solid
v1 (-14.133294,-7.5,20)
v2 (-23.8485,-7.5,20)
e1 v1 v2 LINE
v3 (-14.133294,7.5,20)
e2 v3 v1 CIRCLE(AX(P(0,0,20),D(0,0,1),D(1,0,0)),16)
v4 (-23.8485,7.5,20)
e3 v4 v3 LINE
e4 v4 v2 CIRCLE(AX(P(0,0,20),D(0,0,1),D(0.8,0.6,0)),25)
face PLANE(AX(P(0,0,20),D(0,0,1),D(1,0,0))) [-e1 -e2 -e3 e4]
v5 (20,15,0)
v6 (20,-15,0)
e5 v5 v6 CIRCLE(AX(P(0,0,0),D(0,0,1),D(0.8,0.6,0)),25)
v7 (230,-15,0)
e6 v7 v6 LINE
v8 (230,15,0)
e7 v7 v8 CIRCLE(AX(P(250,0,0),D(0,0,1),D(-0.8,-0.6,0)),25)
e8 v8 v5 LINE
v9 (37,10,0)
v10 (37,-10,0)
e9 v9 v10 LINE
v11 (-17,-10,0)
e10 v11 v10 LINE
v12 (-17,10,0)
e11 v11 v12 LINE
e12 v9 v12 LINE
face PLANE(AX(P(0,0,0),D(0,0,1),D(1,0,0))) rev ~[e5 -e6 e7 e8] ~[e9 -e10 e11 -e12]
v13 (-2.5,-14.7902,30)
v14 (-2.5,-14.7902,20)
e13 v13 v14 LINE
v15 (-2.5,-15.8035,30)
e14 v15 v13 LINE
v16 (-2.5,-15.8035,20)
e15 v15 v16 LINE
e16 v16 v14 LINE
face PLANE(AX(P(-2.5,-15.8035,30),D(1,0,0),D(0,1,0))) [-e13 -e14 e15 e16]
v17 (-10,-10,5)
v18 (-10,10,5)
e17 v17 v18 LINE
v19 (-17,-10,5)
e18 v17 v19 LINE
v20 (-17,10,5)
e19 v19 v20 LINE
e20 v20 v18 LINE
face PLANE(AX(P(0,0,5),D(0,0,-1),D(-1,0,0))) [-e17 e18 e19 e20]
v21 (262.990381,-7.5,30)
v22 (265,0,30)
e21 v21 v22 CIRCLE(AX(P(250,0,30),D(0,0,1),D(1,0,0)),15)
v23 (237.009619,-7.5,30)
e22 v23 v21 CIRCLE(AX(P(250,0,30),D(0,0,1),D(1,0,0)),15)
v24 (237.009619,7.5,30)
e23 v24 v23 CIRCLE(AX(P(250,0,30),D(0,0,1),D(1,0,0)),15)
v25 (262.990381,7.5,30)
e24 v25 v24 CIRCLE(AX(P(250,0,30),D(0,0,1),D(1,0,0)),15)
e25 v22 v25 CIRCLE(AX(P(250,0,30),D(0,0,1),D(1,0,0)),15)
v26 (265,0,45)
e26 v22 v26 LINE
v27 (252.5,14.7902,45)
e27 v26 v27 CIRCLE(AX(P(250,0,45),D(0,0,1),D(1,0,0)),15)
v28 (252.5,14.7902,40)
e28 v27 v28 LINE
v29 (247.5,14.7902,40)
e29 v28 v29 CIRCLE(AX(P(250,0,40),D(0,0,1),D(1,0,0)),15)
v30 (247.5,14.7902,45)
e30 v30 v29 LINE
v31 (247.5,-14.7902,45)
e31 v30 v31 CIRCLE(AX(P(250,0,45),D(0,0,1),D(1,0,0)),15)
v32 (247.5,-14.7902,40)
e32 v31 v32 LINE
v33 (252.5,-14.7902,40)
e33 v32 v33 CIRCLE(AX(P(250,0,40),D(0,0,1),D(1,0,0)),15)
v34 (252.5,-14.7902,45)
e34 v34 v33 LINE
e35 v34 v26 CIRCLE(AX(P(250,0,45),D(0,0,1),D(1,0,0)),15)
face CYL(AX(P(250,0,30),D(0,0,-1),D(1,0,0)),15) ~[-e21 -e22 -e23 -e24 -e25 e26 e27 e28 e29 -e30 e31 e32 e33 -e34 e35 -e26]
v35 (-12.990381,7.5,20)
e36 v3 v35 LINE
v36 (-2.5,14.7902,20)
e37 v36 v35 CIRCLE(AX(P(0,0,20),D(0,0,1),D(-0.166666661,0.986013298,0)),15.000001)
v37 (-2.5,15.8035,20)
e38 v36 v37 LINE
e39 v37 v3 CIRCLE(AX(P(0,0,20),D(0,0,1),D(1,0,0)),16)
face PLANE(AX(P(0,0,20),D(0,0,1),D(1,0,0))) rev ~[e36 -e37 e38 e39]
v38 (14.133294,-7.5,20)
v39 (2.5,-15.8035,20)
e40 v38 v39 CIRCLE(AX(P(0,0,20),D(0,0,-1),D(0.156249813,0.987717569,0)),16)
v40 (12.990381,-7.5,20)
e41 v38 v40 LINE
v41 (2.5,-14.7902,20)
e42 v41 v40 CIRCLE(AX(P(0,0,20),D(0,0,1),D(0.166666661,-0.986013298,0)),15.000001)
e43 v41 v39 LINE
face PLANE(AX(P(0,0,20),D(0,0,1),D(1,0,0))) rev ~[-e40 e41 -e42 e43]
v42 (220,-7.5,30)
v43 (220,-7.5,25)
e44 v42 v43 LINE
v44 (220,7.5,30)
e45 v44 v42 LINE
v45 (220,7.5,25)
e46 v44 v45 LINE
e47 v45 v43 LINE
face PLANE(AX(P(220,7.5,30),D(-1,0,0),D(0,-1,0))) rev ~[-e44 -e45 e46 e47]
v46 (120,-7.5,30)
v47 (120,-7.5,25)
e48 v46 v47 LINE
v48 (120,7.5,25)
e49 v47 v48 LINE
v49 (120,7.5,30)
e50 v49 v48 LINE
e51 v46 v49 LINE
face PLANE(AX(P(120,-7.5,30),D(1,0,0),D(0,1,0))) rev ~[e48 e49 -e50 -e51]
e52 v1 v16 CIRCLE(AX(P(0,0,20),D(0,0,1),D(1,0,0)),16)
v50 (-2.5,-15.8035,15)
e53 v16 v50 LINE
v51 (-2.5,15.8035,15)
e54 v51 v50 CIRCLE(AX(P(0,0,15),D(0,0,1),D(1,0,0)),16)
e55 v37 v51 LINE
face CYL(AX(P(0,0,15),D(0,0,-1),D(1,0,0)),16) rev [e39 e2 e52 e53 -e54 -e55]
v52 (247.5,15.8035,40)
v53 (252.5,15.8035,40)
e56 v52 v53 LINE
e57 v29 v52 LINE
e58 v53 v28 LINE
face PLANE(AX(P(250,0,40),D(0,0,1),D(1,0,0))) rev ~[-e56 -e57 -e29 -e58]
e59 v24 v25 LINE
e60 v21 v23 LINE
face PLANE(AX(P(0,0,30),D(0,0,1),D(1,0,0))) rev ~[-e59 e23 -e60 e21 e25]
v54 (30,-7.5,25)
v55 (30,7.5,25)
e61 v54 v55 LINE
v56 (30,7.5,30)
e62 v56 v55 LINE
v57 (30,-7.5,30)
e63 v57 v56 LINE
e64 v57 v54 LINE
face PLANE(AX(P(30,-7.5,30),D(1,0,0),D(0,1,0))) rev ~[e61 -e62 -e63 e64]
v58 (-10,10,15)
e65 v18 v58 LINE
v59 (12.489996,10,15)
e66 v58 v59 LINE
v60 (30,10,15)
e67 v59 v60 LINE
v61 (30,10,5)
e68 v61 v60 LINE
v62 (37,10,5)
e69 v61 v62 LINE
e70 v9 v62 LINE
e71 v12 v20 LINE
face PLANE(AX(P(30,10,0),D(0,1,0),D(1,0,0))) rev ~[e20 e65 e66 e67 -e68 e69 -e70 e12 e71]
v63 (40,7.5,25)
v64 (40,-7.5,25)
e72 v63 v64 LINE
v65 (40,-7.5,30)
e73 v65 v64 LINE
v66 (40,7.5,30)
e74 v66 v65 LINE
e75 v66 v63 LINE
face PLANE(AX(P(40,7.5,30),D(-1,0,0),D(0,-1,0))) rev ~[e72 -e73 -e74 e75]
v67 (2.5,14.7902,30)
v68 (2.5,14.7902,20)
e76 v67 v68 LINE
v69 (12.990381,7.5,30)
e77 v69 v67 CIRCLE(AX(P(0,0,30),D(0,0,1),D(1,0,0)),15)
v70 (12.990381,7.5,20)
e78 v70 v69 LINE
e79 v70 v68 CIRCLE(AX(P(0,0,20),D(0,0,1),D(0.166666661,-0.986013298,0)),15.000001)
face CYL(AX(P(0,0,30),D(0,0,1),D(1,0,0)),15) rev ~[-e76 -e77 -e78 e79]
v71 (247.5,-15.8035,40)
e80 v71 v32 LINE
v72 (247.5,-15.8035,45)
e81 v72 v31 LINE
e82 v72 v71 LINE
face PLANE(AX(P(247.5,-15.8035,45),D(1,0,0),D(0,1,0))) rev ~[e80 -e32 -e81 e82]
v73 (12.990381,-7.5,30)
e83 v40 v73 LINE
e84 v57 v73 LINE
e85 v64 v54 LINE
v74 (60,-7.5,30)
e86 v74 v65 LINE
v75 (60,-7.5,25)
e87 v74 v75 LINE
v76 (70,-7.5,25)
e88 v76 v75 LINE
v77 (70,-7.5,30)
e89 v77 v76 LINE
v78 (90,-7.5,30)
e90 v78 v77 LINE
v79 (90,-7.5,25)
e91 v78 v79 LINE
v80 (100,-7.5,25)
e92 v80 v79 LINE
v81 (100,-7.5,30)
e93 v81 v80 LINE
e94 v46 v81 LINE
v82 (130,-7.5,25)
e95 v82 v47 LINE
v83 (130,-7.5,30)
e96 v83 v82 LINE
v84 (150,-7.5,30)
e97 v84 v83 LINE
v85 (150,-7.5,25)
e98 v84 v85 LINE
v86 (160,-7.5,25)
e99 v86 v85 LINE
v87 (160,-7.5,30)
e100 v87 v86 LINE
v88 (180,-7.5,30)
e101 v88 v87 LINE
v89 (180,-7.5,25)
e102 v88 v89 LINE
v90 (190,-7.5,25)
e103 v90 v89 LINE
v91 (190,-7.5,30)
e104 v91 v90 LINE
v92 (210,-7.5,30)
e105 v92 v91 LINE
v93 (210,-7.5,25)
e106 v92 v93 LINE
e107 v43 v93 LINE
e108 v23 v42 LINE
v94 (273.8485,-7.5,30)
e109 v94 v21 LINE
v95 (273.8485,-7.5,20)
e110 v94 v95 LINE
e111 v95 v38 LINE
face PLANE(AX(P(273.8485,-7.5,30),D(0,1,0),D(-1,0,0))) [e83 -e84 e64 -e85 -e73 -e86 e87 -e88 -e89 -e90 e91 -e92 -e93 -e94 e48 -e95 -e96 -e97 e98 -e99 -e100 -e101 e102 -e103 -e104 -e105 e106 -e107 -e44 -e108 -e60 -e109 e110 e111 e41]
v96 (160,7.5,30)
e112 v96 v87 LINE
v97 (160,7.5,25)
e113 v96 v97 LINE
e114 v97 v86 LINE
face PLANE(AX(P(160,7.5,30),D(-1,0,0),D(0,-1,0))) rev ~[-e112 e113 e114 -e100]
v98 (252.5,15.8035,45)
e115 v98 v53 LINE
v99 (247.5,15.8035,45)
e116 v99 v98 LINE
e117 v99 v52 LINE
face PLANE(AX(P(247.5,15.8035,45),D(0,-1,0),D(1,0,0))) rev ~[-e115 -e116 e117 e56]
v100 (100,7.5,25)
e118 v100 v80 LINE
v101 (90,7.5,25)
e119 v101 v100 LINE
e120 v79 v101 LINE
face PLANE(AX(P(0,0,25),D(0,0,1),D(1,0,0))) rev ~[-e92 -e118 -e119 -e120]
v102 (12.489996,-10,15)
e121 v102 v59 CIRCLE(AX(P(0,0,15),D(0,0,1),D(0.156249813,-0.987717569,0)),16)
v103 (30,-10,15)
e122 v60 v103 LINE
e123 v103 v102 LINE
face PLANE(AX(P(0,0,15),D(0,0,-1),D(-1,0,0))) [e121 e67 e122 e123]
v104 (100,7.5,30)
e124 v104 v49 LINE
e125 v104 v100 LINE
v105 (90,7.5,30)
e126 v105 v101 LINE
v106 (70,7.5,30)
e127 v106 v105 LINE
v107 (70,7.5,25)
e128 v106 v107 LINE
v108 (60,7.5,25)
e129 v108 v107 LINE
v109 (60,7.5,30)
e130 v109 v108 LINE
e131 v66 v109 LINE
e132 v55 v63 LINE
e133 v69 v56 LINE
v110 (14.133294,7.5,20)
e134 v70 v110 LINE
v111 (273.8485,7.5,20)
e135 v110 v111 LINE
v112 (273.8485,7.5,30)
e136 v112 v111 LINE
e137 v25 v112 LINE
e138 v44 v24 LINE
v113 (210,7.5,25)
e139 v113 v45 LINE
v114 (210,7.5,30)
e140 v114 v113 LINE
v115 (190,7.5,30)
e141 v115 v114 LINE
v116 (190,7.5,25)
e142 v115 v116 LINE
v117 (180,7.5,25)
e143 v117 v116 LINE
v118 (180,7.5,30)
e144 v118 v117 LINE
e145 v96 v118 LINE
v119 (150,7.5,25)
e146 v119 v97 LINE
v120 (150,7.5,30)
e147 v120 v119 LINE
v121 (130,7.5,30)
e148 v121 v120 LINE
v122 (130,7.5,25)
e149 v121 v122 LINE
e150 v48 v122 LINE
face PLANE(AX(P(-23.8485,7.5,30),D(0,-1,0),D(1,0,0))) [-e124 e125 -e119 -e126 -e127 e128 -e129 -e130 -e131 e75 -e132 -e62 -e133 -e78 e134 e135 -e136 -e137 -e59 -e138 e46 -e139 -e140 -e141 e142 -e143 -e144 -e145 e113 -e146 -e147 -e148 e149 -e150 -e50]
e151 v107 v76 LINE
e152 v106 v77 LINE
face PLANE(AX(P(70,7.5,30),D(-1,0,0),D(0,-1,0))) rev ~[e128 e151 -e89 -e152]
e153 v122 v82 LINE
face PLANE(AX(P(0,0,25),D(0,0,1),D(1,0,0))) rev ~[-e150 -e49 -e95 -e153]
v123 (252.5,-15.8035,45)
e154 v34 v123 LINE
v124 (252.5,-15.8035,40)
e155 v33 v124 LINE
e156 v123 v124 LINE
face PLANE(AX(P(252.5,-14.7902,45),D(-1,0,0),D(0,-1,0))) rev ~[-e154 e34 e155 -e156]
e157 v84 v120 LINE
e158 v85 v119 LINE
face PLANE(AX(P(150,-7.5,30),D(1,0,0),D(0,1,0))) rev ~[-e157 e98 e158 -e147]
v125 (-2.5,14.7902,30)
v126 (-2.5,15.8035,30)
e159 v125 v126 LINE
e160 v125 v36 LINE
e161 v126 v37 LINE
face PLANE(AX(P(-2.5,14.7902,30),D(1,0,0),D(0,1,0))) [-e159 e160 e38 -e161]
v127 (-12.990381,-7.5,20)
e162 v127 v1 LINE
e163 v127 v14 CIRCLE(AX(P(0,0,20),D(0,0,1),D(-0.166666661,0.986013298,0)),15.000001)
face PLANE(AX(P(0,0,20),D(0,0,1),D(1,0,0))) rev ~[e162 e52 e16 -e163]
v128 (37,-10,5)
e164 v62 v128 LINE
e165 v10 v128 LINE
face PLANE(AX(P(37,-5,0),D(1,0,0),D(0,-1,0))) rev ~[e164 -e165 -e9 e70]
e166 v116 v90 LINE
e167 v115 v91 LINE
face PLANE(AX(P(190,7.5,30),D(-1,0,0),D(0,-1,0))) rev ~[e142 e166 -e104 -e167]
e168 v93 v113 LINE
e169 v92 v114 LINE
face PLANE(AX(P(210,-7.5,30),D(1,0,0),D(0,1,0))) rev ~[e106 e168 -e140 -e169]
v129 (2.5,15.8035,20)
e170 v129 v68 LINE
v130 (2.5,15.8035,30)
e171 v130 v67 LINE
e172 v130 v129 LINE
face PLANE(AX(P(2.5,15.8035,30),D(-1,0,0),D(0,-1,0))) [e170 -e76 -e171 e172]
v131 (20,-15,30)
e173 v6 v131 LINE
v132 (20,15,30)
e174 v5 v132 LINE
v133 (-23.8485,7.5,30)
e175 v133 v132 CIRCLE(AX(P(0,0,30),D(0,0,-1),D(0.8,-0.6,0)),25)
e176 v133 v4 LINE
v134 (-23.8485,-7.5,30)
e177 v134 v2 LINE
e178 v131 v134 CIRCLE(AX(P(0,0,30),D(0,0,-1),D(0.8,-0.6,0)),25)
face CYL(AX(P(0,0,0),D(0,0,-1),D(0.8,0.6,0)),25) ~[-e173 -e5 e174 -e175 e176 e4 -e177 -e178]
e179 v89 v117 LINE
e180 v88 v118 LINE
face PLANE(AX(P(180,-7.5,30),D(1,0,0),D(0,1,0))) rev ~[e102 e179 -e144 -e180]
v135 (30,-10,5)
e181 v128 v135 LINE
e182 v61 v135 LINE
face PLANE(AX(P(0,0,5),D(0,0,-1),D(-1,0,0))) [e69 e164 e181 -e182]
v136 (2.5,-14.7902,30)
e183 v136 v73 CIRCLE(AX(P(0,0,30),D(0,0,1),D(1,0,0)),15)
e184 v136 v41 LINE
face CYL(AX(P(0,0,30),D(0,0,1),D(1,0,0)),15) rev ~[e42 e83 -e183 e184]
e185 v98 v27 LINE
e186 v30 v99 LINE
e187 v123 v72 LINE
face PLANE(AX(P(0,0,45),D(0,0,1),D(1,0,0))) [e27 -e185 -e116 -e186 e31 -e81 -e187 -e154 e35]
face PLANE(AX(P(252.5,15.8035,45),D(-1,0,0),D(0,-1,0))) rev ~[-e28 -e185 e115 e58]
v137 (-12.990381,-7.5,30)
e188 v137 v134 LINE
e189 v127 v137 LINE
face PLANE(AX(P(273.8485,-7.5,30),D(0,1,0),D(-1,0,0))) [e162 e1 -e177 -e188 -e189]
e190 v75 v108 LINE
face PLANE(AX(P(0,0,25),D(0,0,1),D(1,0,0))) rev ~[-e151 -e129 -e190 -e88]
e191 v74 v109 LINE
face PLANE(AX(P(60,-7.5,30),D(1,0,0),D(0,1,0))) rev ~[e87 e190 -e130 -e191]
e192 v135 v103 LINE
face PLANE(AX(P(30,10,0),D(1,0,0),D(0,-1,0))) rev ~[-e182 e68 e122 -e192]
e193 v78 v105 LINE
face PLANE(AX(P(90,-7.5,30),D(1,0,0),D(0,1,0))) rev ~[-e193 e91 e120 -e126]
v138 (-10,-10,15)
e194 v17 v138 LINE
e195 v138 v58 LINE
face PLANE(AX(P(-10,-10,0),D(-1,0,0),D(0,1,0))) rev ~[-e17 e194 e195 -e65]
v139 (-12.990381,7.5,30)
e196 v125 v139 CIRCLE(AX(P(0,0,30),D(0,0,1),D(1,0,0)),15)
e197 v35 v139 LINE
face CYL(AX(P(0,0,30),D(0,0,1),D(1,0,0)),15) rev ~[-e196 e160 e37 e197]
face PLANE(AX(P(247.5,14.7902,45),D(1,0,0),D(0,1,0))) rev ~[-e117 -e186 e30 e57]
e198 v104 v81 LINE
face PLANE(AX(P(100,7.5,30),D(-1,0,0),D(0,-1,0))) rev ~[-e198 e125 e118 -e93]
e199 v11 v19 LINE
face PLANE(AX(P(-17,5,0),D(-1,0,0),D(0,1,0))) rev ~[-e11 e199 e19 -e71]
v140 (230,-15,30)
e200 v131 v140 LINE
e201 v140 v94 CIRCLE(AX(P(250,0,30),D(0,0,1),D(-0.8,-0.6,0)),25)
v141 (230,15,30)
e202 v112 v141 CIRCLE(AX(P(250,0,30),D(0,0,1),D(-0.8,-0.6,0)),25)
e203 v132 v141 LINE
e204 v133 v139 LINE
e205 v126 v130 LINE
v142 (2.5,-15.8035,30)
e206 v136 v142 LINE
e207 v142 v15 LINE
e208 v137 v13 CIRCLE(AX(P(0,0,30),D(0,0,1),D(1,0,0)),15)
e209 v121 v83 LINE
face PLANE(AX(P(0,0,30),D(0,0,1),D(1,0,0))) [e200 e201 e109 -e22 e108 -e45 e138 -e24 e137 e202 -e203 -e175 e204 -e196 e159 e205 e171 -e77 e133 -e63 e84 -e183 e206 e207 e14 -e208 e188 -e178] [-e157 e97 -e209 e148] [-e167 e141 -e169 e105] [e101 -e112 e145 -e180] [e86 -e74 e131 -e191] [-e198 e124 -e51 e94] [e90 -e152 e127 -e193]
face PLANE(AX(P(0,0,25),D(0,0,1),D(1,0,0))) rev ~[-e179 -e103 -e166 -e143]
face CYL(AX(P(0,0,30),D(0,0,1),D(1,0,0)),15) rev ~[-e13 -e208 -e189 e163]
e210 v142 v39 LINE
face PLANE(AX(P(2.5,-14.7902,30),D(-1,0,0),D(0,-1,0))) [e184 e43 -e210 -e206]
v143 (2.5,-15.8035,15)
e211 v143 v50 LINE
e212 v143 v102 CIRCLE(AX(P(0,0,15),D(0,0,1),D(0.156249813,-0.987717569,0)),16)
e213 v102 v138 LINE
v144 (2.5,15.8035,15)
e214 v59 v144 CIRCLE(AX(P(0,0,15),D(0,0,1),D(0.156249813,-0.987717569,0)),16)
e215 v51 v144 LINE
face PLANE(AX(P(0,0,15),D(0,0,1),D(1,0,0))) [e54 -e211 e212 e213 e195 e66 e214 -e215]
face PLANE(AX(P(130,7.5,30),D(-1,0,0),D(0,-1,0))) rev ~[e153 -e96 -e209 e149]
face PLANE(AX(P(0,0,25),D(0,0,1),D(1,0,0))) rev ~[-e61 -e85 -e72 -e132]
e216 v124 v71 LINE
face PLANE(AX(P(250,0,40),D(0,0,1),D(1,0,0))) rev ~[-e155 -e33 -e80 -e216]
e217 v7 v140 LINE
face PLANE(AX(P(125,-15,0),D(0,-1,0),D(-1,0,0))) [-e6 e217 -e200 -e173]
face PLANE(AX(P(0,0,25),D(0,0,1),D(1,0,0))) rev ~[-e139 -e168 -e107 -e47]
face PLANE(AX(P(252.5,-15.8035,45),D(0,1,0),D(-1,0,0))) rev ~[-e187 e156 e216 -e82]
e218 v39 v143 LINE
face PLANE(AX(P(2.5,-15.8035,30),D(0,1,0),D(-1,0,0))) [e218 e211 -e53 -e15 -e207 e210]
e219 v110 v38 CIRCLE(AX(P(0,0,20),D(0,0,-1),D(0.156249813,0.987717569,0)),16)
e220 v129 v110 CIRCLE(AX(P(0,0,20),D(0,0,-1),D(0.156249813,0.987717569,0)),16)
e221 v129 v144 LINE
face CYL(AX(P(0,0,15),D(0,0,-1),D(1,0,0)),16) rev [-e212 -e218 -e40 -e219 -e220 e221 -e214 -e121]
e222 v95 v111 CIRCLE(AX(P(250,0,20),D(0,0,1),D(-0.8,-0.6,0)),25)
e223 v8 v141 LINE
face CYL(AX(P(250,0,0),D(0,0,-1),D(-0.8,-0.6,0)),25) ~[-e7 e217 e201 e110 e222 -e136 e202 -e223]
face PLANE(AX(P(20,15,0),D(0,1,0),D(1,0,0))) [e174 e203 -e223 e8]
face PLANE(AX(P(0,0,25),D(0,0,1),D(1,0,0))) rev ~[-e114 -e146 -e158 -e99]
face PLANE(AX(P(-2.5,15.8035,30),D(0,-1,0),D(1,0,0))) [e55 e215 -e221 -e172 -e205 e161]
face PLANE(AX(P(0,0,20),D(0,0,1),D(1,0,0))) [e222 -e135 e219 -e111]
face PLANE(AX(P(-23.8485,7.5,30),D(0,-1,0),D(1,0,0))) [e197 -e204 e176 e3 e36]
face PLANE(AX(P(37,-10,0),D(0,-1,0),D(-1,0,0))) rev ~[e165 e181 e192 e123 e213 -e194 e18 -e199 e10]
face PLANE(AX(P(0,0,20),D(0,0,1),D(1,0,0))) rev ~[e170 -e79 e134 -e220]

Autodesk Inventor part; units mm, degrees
ref_plane "YZ Plane" through (0, 0, 0) normal (1, 0, 0) x (0, 1, 0)
ref_plane "XZ Plane" through (0, 0, 0) normal (0, 1, 0) x (-1, 0, 0)
ref_plane "XY Plane" through (0, 0, 0) normal (0, 0, 1) x (1, 0, 0)
sketch "Szkic1" plane through (0, 0, 0) normal (0, 0, 1) x (1, 0, 0)
  arc A0 (20, 15) -> (-20, 15) centre (0, 0) ccw
  line L0 (20, 15) -> (125, 15)
  line L1 (125, 15) -> (125, -15)
  line L2 (125, -15) -> (20, -15)
  arc A1 (230, -15) -> (230, 15) centre (250, 0) ccw
  line L3 (230, 15) -> (125, 15)
  line L4 (125, -15) -> (230, -15)
  arc A2 (-20, 15) -> (20, -15) centre (0, 0) ccw
  dimension "d0" = 50
  dimension "d1" = 30
  dimension "d2" = 250
extrude "kształt" add sketch "Szkic1" along normal blind 30
sketch "Szkic2" plane through (0, 0, 30) normal (0, 0, 1) x (1, 0, 0)
  arc A0 (20, 15) -> (20, -15) centre (0, 0) ccw projected
  line L0 (20, -15) -> (230, -15) projected
  arc A1 (230, -15) -> (230, 15) centre (250, 0) ccw projected
  line L1 (230, 15) -> (20, 15) projected
  line L2 (-23.8485, 7.5) -> (273.8485, 7.5)
  line L3 (273.8485, -7.5) -> (-23.8485, -7.5)
  point P0 (-23.8485, -7.5)
  dimension "d5" = 15
extrude "rowek na kable" cut sketch "Szkic2" against normal blind 10 contours L2 A1 L3 A0
sketch "Szkic3" plane through (0, 0, 30) normal (0, 0, 1) x (1, 0, 0)
  arc A0 (273.8485, 7.5) -> (230, 15) centre (250, 0) ccw projected
  circle A1 centre (250, 0) radius 15
  point P0 (0, 0)
  dimension "d8" = 30
extrude "odstająćy cosik" add sketch "Szkic3" along normal blind 15
sketch "Szkic4" plane through (0, 0, 30) normal (0, 0, 1) x (1, 0, 0)
  circle A0 centre (0, 0) radius 15
  dimension "d11" = 30
extrude "wgłebiający cosik" cut sketch "Szkic4" against normal blind 15
sketch "Szkic5" plane through (0, 0, 30) normal (0, 0, 1) x (1, 0, 0)
  arc A0 (12.9904, 7.5) -> (-12.9904, 7.5) centre (0, 0) ccw projected
  line L0 (12.9904, 7.5) -> (237.0096, 7.5) projected
  arc A1 (262.9904, 7.5) -> (237.0096, 7.5) centre (250, 0) ccw projected
  line L1 (262.9904, 7.5) -> (273.8485, 7.5) projected
  arc A2 (273.8485, 7.5) -> (230, 15) centre (250, 0) ccw projected
  line L2 (230, 15) -> (20, 15) projected
  arc A3 (20, 15) -> (-23.8485, 7.5) centre (0, 0) ccw projected
  line L3 (-23.8485, 7.5) -> (-12.9904, 7.5) projected
  arc A4 (-12.9904, -7.5) -> (12.9904, -7.5) centre (0, 0) ccw projected
  line L4 (-12.9904, -7.5) -> (-23.8485, -7.5) projected
  arc A5 (-23.8485, -7.5) -> (20, -15) centre (0, 0) ccw projected
  line L5 (20, -15) -> (230, -15) projected
  arc A6 (230, -15) -> (273.8485, -7.5) centre (250, 0) ccw projected
  line L6 (273.8485, -7.5) -> (262.9904, -7.5) projected
  arc A7 (237.0096, -7.5) -> (262.9904, -7.5) centre (250, 0) ccw projected
  line L7 (237.0096, -7.5) -> (12.9904, -7.5) projected
  line L8 (30, 7.5) -> (40, 7.5)
  line L9 (40, 7.5) -> (40, -7.5)
  line L10 (40, -7.5) -> (30, -7.5)
  line L11 (30, -7.5) -> (30, 7.5)
  arc A8 (-23.8485, -7.5) -> (20, -15) centre (0, 0) ccw projected
  line L12 (60, -7.5) -> (60, 7.5)
  line L13 (70, 7.5) -> (70, -7.5)
  line L14 (70, -7.5) -> (60, -7.5)
  line L15 (60, 7.5) -> (70, 7.5)
  line L16 (90, -7.5) -> (90, 7.5)
  line L17 (100, 7.5) -> (100, -7.5)
  line L18 (100, -7.5) -> (90, -7.5)
  line L19 (90, 7.5) -> (100, 7.5)
  line L20 (120, -7.5) -> (120, 7.5)
  line L21 (130, 7.5) -> (130, -7.5)
  line L22 (130, -7.5) -> (120, -7.5)
  line L23 (120, 7.5) -> (130, 7.5)
  line L24 (150, -7.5) -> (150, 7.5)
  line L25 (160, 7.5) -> (160, -7.5)
  line L26 (160, -7.5) -> (150, -7.5)
  line L27 (150, 7.5) -> (160, 7.5)
  line L28 (180, -7.5) -> (180, 7.5)
  line L29 (190, 7.5) -> (190, -7.5)
  line L30 (190, -7.5) -> (180, -7.5)
  line L31 (180, 7.5) -> (190, 7.5)
  line L32 (210, -7.5) -> (210, 7.5)
  line L33 (220, 7.5) -> (220, -7.5)
  line L34 (220, -7.5) -> (210, -7.5)
  line L35 (210, 7.5) -> (220, 7.5)
  arc A9 (273.8485, 7.5) -> (230, 15) centre (250, 0) ccw projected
  line L36 (0, 0) -> (125, 0) construction
  line L37 (125, -7.5) -> (125, 7.5) construction
  line L38 (125, 0) -> (250, 0) construction
  point P0 (70, -7.5)
  point P1 (60, 7.5)
  point P2 (220, -7.5)
  point P3 (210, 7.5)
  point P4 (190, -7.5)
  point P5 (180, 7.5)
  point P6 (160, -7.5)
  point P7 (150, 7.5)
  point P8 (130, -7.5)
  point P9 (120, 7.5)
  point P10 (100, -7.5)
  point P11 (90, 7.5)
  dimension "d15" = 10
  dimension "d18" = 30
extrude "wzmocnienie" add sketch "Szkic5" against normal blind 5 contours L0 L9 L7 L11 | L0 L13 L7 L12 | L0 L17 L7 L16 | L0 L21 L7 L20 | L33 L7 L32 L0 | L0 L25 L7 L24 | L29 L7 L28 L0
sketch "Szkic6" plane through (250, 0, 45) normal (0, 0, 1) x (1, 0, 0)
  circle A0 centre (0, 0) radius 15 projected
  arc A1 (2.5, 15.8035) -> (2.5, -15.8035) centre (0, 0) ccw construction
  line L0 (-2.5, 15.8035) -> (2.5, 15.8035)
  line L1 (2.5, 15.8035) -> (2.5, 14.7902)
  line L2 (2.5, -15.8035) -> (-2.5, -15.8035)
  line L3 (-2.5, -15.8035) -> (-2.5, -14.7902)
  line L4 (2.5, 14.7902) -> (2.5, -14.7902) construction
  line L5 (-2.5, 14.7902) -> (-2.5, 15.8035)
  line L6 (-2.5, -14.7902) -> (-2.5, 14.7902) construction
  line L7 (2.5, -14.7902) -> (2.5, -15.8035)
  point P0 (-250, 0)
  dimension "d25" = 32
  dimension "d27" = 5
extrude "złobek" add sketch "Szkic6" against normal blind 5 contours A0 L5 L0 L1 | L7 L2 L3 A0
sketch "Szkic7" plane through (0, 0, 30) normal (0, 0, 1) x (1, 0, 0)
  circle A0 centre (0, 0) radius 16 construction
  line L0 (-2.5, 15.8035) -> (2.5, 15.8035)
  line L1 (2.5, -15.8035) -> (-2.5, -15.8035)
  arc A1 (12.9904, 7.5) -> (-12.9904, 7.5) centre (0, 0) ccw projected
  arc A2 (-12.9904, -7.5) -> (12.9904, -7.5) centre (0, 0) ccw projected
  line L2 (2.5, 15.8035) -> (2.5, 14.7902)
  line L3 (2.5, -14.7902) -> (2.5, -15.8035)
  line L4 (-2.5, -15.8035) -> (-2.5, -14.7902)
  line L5 (-2.5, 14.7902) -> (-2.5, 15.8035)
  arc A3 (2.5, 14.7902) -> (-2.5, 14.7902) centre (0, 0) ccw
  arc A4 (-2.5, -14.7902) -> (2.5, -14.7902) centre (0, 0) ccw
  point P0 (2.5, 15.2968)
  dimension "d30" = 32
  dimension "d32" = 5
extrude "wklęsły żłobek" cut sketch "Szkic7" against normal up to surface (15 mm away)
sketch "Szkic8" plane through (0, 0, 15) normal (0, 0, 1) x (1, 0, 0)
  arc A0 (2.5, -14.7902) -> (2.5, 14.7902) centre (0, 0) ccw projected
  line L0 (2.5, 15.8035) -> (2.5, 14.7902) projected
  line L1 (-2.5, 15.8035) -> (2.5, 15.8035) projected
  line L2 (-2.5, 14.7902) -> (-2.5, 15.8035) projected
  arc A1 (-2.5, 14.7902) -> (-2.5, -14.7902) centre (0, 0) ccw projected
  line L3 (-2.5, -15.8035) -> (-2.5, -14.7902) projected
  line L4 (2.5, -15.8035) -> (-2.5, -15.8035) projected
  line L5 (2.5, -14.7902) -> (2.5, -15.8035) projected
  circle A2 centre (0, 0) radius 16
  circle A3 centre (0, 0) radius 15
extrude "rowek" cut sketch "Szkic8" along normal blind 5 contours A0 L0 A2 L5 | L3 A2 L2 A1
sketch "Szkic10" plane through (0, 0, 0) normal (0, 0, -1) x (-1, 0, 0)
  line L0 (10, 10) -> (-30, 10)
  line L1 (-30, 10) -> (-30, -10)
  line L2 (-30, -10) -> (10, -10)
  line L3 (10, -10) -> (10, 10)
  circle A0 centre (0, 0) radius 10 construction
  line L4 (17, 10) -> (-37, 10)
  line L5 (-37, 10) -> (-37, -10)
  line L6 (-37, -10) -> (-30, -10)
  line L7 (17, -10) -> (17, 10)
  line L8 (10, -10) -> (17, -10)
  line L9 (-30, -10) -> (10, -10)
  circle A1 centre (14.5, -5) radius 2.5
  circle A2 centre (14.5, 5) radius 2.5
  line L10 (-10, -10) -> (-10, 10) construction
  circle A3 centre (-34.5, -5) radius 2.5
  circle A4 centre (-34.5, 5) radius 2.5
  point P0 (17, 0)
  point P1 (17, -5)
  point P2 (17, 5)
  point P3 (-37, 5)
  point P4 (-37, -5)
  dimension "d40" = 40
  dimension "d41" = 20
  dimension "d42" = 54
  dimension "d43" = 5
  dimension "d44" = 5
  dimension "d45" = 5
  dimension "d46" = 5
extrude "Wyciągnięcie proste9" cut sketch "Szkic10" against normal blind 15 contours L3 L2 L1 L0
extrude "Wyciągnięcie proste11" cut sketch "Szkic10" against normal blind 5 contours A1 | A2 | L4 L7 L8 L3 | A4 | A3 | L1 L6 L5 L4
properties part number "1stopien" material "Tworzywo sztuczne ABS"
